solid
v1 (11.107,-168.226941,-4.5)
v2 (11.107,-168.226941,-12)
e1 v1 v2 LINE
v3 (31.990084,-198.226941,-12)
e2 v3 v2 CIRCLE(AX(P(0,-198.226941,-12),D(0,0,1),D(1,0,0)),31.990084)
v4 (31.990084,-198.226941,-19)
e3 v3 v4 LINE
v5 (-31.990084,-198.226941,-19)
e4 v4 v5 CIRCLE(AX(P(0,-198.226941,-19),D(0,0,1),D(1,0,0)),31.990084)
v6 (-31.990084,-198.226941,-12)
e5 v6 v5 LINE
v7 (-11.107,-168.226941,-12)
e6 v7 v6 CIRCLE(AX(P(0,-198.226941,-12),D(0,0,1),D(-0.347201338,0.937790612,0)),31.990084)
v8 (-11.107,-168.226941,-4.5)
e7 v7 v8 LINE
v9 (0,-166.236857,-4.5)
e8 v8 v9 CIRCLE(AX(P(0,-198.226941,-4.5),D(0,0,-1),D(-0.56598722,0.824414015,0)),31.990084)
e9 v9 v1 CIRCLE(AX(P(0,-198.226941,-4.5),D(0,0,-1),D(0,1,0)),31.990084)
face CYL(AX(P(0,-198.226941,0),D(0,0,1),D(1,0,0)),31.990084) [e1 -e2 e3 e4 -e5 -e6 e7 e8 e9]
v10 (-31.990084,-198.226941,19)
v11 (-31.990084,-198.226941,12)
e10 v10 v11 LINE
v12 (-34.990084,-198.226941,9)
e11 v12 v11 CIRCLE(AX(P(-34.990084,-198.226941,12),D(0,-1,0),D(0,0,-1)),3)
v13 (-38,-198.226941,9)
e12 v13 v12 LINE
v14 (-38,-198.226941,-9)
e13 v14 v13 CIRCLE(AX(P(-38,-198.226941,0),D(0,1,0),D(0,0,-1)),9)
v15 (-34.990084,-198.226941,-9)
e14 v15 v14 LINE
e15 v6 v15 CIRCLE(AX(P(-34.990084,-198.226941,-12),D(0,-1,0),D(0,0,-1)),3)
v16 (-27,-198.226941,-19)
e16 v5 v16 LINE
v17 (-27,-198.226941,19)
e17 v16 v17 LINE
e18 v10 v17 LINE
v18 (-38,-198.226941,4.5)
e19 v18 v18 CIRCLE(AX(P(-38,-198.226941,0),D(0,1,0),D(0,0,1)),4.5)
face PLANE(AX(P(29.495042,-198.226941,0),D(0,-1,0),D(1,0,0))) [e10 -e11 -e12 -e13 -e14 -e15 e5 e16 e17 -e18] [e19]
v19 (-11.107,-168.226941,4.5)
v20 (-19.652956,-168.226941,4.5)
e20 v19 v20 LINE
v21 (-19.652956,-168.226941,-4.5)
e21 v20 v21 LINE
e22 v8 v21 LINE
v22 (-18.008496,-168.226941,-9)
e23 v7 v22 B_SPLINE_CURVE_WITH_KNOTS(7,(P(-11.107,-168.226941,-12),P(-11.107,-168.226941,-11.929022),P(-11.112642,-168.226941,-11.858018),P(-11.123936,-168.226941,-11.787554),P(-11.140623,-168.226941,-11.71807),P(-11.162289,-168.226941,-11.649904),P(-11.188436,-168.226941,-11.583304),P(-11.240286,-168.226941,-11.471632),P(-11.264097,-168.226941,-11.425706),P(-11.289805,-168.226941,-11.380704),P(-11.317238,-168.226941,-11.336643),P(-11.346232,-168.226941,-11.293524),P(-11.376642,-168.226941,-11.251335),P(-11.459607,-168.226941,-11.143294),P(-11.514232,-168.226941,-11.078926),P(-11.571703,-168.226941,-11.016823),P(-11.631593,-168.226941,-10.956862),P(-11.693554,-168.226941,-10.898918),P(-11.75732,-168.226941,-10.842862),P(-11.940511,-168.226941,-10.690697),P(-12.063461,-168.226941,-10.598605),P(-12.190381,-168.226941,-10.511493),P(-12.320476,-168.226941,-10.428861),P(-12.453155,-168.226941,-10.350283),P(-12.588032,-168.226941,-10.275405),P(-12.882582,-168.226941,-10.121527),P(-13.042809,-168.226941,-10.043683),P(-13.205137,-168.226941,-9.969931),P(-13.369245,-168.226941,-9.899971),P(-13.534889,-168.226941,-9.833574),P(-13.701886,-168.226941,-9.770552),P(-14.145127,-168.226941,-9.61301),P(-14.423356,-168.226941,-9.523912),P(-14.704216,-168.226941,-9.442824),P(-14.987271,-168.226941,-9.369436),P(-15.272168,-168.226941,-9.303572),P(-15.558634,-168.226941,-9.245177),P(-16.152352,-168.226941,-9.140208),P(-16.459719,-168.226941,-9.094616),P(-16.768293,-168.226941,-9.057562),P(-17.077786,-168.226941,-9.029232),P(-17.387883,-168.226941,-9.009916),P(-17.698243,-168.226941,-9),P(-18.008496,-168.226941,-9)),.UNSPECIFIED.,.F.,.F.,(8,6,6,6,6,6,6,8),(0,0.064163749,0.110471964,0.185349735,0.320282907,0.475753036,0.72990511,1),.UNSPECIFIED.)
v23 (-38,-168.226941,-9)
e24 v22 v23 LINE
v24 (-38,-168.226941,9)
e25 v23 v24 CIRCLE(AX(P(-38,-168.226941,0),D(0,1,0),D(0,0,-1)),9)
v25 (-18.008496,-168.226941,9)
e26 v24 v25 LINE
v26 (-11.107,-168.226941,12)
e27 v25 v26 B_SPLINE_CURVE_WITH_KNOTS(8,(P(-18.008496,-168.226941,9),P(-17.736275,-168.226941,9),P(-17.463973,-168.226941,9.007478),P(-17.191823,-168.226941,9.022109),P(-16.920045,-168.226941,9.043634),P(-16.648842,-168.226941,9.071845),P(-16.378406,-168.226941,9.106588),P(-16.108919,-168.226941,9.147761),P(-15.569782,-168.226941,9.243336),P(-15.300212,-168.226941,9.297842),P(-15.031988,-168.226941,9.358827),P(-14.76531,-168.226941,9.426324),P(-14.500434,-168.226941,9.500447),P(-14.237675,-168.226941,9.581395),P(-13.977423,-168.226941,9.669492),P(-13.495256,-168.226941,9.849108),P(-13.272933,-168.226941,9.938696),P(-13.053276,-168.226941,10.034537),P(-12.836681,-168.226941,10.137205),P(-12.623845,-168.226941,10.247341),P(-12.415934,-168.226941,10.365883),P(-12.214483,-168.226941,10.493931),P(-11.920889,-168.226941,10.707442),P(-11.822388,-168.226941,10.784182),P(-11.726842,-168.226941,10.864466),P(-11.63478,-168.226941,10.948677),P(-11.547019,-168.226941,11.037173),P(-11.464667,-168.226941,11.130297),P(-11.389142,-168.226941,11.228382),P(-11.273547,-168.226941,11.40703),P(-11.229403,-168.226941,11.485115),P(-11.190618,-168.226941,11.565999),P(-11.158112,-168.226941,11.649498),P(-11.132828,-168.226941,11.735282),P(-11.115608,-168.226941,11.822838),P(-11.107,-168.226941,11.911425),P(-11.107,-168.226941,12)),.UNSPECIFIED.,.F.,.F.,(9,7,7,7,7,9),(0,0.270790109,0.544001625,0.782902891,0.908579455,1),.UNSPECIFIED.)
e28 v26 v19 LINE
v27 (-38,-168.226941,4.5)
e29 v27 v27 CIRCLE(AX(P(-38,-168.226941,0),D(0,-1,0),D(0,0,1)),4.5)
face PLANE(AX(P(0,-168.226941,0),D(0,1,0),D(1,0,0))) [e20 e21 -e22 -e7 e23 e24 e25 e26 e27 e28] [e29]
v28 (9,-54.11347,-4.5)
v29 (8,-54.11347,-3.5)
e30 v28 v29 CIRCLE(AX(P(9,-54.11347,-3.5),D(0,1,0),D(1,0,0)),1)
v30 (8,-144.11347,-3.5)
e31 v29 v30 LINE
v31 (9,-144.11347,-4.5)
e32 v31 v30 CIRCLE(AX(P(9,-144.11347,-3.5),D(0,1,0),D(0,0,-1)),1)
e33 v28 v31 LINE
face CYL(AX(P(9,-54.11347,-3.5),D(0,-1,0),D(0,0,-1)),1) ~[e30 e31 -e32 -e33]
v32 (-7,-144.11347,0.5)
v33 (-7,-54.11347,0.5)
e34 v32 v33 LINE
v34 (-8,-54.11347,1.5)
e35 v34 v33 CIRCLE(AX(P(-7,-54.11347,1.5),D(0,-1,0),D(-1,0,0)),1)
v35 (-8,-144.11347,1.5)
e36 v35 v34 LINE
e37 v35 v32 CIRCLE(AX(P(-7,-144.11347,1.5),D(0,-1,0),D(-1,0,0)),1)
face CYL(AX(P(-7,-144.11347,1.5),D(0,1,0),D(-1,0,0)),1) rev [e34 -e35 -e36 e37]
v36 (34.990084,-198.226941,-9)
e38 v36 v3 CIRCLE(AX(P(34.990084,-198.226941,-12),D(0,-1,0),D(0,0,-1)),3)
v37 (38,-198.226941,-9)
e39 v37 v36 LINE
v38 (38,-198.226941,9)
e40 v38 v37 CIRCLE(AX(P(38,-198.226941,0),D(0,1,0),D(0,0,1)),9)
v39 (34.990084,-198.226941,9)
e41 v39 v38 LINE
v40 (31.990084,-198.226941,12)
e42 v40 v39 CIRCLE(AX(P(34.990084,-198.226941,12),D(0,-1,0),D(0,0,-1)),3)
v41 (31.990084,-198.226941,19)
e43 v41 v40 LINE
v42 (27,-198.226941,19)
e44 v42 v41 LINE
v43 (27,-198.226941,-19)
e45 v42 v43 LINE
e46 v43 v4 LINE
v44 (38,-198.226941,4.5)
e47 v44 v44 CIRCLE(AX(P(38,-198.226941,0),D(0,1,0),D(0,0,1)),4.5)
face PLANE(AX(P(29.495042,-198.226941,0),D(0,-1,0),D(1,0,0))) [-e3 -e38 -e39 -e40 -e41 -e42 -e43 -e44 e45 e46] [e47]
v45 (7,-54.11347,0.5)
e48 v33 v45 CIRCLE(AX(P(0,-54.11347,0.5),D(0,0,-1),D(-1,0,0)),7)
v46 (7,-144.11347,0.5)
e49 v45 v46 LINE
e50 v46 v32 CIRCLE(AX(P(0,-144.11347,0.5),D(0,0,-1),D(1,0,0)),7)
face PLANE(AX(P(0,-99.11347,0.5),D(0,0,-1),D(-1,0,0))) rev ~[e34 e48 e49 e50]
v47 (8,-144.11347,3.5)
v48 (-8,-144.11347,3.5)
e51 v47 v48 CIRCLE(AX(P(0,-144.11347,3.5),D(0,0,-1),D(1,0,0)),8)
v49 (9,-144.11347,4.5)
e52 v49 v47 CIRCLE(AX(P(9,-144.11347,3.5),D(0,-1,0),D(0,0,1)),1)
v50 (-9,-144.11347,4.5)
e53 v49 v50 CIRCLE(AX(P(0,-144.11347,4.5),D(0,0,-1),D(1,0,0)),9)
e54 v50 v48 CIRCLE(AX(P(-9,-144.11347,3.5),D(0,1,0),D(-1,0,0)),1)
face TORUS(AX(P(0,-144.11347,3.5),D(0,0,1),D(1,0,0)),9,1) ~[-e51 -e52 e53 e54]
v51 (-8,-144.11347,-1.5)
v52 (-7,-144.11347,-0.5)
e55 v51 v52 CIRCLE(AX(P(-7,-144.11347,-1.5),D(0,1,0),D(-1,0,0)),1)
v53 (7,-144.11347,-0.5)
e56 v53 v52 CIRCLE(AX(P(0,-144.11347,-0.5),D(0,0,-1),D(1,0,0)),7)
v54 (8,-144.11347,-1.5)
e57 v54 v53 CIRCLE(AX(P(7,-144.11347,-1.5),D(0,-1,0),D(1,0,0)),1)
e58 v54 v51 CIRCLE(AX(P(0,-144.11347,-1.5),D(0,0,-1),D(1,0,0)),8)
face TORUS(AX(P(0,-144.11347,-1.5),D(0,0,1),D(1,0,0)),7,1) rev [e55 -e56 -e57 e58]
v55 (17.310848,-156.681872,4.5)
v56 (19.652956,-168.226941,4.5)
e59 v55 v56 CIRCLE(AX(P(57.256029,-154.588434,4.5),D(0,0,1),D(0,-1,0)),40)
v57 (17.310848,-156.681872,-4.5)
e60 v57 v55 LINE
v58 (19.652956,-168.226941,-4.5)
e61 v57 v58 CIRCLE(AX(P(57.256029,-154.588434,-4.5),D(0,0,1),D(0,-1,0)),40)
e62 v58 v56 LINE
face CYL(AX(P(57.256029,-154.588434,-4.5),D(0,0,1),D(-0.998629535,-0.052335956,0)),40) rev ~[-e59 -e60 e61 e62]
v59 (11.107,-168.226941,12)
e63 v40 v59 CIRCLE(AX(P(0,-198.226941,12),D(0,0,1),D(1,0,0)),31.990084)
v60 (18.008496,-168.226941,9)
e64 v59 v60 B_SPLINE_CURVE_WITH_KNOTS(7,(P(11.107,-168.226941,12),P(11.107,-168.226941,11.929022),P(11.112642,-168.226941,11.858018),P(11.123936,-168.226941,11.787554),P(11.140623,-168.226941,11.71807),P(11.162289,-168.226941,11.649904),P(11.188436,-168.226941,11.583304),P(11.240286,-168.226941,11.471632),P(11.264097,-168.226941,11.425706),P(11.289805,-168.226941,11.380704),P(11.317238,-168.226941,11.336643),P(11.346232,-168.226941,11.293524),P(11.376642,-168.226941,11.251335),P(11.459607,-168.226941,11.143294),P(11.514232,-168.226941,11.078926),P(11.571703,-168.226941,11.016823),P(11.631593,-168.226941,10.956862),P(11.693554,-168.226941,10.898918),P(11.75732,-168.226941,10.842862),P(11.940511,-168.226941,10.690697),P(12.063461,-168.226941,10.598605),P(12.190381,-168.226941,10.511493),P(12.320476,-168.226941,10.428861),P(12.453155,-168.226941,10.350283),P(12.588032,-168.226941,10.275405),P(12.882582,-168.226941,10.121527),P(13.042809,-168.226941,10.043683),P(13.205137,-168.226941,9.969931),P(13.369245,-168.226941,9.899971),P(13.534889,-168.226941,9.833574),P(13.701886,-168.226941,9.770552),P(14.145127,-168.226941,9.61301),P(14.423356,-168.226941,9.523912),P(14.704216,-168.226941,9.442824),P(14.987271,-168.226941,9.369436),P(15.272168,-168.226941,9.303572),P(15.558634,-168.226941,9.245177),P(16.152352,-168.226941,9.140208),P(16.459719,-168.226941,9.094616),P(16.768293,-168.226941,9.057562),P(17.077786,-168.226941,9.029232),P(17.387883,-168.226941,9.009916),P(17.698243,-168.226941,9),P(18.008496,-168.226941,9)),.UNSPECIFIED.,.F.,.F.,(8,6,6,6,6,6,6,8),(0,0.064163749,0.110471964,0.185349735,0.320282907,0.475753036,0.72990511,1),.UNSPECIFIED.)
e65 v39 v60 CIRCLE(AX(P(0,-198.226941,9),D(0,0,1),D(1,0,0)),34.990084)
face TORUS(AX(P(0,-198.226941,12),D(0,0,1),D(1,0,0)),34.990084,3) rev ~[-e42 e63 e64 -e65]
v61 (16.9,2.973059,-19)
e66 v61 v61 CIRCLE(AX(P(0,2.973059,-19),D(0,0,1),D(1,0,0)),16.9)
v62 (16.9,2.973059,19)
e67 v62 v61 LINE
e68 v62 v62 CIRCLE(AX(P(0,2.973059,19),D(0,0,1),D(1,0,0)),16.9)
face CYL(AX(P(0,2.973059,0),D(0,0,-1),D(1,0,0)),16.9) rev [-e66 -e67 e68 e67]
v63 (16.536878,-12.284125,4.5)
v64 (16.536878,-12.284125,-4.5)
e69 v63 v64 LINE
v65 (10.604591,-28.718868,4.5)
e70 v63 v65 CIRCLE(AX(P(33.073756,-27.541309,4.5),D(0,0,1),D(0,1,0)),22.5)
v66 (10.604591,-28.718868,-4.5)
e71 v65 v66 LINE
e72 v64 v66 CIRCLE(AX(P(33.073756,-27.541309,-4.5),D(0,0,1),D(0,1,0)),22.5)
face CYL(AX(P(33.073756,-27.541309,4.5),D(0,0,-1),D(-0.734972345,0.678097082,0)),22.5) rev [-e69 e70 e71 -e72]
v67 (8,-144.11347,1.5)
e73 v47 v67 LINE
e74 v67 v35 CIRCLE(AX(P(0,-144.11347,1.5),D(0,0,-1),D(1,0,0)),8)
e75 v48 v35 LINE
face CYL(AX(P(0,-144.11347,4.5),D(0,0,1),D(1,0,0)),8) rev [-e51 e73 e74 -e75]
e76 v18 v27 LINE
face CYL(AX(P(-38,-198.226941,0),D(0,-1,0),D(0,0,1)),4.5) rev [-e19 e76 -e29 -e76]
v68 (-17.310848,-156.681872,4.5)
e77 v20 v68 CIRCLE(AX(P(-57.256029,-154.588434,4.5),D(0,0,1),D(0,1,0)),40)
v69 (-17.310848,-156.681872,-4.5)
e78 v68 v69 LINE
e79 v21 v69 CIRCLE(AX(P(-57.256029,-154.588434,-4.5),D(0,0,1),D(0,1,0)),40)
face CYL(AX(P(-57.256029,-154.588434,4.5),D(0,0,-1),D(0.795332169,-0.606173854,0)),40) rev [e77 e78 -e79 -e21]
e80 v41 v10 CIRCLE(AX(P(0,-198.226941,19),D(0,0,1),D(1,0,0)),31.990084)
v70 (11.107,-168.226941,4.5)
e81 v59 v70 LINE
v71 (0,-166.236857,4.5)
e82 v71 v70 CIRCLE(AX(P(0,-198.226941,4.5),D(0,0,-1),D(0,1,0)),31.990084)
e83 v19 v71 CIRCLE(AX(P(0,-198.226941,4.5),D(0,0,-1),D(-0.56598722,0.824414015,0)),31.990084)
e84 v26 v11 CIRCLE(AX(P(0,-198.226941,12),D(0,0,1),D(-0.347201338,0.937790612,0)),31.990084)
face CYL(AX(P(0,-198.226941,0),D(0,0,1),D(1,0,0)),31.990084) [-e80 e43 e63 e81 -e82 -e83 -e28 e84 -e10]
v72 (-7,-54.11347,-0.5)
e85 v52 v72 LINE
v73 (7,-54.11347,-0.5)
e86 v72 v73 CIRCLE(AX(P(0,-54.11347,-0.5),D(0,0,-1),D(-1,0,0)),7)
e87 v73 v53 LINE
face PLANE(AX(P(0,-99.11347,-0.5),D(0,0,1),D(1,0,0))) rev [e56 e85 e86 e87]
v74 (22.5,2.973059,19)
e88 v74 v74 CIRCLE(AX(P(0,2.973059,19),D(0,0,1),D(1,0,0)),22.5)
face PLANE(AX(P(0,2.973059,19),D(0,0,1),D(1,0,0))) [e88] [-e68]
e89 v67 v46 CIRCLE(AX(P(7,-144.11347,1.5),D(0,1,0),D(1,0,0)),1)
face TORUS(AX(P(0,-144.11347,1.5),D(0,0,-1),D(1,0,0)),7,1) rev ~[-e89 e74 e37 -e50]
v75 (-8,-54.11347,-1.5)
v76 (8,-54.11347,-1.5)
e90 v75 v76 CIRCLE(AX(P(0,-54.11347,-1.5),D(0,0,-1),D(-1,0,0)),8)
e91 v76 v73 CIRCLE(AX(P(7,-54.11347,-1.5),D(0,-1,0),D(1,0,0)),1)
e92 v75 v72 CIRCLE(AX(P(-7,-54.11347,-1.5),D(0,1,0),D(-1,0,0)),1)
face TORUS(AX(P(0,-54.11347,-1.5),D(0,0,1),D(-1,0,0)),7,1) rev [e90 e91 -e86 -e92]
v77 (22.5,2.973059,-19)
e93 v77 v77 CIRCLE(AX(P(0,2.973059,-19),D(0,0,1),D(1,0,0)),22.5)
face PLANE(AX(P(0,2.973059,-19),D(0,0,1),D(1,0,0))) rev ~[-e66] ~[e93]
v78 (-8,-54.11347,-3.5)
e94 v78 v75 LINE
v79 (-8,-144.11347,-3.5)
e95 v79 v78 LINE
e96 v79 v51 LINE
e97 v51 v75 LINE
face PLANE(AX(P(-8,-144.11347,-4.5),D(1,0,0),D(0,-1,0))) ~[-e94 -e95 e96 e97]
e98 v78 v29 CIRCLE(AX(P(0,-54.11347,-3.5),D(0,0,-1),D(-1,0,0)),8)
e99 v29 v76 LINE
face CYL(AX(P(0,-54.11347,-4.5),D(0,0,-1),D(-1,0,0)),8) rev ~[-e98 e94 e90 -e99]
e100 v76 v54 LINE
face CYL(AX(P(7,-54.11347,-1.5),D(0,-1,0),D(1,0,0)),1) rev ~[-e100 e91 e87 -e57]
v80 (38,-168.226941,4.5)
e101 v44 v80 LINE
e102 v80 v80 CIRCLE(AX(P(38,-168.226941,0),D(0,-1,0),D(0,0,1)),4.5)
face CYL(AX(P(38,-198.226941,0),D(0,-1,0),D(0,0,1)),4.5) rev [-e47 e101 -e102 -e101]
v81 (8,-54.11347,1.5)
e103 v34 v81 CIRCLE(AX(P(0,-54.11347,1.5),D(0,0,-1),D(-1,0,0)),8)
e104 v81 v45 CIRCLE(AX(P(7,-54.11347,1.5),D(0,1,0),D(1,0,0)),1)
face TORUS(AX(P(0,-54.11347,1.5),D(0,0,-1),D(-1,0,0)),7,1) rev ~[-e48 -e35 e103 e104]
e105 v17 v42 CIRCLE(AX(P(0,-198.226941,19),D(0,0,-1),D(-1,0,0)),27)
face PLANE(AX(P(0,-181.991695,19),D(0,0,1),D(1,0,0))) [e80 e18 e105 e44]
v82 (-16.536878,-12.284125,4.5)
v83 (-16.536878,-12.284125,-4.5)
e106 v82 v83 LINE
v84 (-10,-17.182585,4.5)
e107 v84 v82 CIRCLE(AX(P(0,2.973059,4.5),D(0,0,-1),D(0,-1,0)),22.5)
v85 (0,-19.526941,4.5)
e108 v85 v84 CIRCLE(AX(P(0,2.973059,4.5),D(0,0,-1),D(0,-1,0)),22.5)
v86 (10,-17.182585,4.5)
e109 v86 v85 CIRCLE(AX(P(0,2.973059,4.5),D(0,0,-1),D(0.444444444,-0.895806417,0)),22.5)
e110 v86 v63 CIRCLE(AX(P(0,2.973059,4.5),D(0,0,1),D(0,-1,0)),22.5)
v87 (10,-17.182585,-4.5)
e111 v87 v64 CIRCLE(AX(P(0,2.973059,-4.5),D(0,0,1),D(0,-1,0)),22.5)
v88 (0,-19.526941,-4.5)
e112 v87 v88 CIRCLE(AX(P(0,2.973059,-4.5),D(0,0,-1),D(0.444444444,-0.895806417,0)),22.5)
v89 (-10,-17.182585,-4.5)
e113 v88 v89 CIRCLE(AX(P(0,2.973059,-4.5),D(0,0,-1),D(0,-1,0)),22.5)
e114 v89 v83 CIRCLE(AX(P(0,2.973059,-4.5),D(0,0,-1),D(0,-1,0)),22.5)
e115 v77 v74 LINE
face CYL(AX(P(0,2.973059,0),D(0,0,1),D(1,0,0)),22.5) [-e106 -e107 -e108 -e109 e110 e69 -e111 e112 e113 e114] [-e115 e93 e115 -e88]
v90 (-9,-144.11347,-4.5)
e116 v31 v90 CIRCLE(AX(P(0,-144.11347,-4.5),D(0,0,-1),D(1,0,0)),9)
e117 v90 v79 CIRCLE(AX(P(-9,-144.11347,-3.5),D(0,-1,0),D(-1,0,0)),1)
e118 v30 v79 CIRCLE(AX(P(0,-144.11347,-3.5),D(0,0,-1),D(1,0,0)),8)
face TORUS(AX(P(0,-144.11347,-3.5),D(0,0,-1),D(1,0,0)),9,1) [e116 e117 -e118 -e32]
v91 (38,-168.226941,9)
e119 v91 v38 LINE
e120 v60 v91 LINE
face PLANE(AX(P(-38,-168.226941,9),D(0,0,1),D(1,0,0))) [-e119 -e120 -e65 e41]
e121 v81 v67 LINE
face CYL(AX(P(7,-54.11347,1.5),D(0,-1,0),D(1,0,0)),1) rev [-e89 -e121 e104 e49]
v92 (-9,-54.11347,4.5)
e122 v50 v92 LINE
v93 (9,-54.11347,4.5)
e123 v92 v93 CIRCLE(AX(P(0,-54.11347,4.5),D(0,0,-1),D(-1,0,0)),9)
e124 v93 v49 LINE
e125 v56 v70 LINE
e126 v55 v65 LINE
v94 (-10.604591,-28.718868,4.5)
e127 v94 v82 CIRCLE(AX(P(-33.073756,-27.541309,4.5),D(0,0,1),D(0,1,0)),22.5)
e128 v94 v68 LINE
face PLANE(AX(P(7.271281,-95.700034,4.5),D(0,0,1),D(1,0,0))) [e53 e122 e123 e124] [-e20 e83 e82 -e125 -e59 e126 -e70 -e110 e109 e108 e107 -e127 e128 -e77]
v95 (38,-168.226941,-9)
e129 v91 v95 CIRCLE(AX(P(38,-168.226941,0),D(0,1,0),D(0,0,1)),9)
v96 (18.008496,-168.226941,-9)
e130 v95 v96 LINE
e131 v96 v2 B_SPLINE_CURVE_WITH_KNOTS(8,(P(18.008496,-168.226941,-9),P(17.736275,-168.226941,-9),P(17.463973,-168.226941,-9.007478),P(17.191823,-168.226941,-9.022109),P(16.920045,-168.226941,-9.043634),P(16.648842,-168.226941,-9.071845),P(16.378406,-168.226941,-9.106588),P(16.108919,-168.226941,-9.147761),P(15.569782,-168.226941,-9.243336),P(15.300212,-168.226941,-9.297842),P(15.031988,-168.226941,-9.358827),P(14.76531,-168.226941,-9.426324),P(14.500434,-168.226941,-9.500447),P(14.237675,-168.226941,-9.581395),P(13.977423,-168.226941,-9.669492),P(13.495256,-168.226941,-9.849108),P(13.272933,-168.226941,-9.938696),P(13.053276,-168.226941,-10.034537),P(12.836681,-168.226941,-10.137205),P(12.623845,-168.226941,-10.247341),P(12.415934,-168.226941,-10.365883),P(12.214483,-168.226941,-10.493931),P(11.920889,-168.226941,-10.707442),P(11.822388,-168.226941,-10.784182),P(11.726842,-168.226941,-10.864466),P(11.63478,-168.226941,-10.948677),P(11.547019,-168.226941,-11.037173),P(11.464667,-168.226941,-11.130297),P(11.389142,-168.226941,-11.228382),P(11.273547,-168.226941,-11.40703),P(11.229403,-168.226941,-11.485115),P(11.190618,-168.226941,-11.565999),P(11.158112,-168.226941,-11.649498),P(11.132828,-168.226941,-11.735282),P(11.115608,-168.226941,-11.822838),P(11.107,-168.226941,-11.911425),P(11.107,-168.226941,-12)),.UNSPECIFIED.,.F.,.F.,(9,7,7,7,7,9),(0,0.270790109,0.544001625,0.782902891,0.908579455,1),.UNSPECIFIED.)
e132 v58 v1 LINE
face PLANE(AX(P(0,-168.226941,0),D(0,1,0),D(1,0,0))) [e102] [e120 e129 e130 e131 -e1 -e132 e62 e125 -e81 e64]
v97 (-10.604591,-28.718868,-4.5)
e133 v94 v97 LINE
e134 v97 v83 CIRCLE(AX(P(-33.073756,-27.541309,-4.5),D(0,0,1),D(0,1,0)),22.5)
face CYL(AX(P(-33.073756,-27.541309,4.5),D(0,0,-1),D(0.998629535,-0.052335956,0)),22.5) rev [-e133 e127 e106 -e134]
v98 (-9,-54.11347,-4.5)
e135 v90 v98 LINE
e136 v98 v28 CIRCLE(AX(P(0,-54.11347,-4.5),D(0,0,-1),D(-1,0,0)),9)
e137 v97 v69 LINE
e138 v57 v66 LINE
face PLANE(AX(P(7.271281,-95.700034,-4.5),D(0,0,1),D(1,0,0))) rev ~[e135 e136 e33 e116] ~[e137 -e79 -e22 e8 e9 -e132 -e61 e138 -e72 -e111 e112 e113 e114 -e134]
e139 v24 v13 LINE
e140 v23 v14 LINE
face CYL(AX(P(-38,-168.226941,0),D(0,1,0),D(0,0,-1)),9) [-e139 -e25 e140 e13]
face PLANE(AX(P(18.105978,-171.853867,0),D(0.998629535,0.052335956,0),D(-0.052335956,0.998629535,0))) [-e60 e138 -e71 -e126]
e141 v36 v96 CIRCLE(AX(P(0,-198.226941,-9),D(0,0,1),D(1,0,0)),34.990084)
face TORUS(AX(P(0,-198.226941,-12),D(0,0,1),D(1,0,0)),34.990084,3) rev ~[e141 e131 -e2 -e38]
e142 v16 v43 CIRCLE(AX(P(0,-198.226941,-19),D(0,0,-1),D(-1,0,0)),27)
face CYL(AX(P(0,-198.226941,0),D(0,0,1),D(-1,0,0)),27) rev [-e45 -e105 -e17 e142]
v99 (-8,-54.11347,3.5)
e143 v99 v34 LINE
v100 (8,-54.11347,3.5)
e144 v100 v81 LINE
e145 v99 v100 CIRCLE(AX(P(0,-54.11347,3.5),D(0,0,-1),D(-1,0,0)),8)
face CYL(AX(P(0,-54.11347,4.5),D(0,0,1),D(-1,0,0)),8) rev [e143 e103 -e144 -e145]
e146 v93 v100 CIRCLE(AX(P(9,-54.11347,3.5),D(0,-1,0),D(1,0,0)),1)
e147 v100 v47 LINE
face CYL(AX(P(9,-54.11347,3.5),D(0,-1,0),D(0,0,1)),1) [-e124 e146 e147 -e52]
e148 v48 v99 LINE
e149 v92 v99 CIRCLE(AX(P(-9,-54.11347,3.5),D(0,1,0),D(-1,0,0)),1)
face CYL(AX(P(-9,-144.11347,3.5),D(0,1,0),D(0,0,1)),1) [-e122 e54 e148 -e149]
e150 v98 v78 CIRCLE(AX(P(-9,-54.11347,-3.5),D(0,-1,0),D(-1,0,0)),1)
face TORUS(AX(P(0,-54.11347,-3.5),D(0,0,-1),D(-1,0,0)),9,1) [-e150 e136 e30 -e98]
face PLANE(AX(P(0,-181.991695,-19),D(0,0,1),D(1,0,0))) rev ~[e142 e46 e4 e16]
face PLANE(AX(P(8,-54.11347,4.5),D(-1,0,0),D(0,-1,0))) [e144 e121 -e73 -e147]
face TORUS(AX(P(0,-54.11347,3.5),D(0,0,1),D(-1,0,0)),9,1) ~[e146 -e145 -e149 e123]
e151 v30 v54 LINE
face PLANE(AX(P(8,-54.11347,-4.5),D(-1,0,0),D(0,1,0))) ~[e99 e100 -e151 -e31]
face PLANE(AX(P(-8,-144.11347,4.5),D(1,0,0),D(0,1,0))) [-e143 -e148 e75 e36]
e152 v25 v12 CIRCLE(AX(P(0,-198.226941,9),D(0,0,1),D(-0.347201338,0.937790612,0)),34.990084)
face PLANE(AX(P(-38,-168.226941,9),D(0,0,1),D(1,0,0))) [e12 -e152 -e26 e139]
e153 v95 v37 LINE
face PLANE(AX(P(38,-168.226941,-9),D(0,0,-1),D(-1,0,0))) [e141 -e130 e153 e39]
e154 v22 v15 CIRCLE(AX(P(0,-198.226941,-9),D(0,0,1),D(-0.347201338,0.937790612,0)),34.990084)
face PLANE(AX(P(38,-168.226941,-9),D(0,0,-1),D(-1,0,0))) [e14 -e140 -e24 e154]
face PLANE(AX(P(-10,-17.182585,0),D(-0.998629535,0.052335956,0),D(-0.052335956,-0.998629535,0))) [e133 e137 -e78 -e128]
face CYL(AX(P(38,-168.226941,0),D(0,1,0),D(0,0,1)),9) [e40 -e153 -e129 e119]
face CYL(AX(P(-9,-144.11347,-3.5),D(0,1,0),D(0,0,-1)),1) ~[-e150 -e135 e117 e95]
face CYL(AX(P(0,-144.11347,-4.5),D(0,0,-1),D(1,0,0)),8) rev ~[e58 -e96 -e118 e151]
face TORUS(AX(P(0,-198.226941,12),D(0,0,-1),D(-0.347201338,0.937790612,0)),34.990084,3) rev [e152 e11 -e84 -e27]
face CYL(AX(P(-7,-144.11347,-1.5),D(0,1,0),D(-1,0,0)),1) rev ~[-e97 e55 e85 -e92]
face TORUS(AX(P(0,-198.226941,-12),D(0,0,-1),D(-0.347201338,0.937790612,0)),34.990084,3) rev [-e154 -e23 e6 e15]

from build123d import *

# Parameters (mm, degrees)
SKETCH1_R               = 22.5
SKETCH1_R_2             = 16.9
BOSS_EXTRUDE3_DEPTH     = 19
BOSS_EXTRUDE3_2_DEPTH   = 19
BOSS_EXTRUDE5_DEPTH     = 4.5
CUT_EXTRUDE1_DEPTH      = 4
FILLET1_R               = 1
FILLET2_R               = 40
FILLET3_R               = 40
FILLET4_R               = 22.5
BOSS_EXTRUDE7_REACH     = 199.241
CUT_EXTRUDE3_DEPTH      = 206.637836892
CUT_EXTRUDE3_DEPTH_BACK = 206.637836892
CUT_EXTRUDE4_DEPTH      = 201.224099449
CUT_EXTRUDE4_DEPTH_BACK = 30
SKETCH7_R               = 4.5
FILLET5_R               = 3
FILLET6_R               = 3


with BuildPart() as part:
    # Sketch1 → Boss-Extrude3 (new, symmetric)
    with BuildSketch(Plane.XY):
        with Locations((0, 2.973059445)):
            Circle(SKETCH1_R)
        with Locations((0, 2.973059445)):
            Circle(SKETCH1_R_2, mode=Mode.SUBTRACT)
    extrude(amount=BOSS_EXTRUDE3_DEPTH, both=True)



with BuildPart() as body_2:
    # Sketch1 → Boss-Extrude3 2 (new, symmetric)
    with BuildSketch(Plane.XY):
        with BuildLine():
            Line((-31.990083534, -198.226940555), (-27, -198.226940555))
            ThreePointArc((-27, -198.226940555), (0, -171.226940555), (27, -198.226940555))
            Line((27, -198.226940555), (31.990083534, -198.226940555))
            ThreePointArc((31.990083534, -198.226940555), (0, -166.236857021), (-31.990083534, -198.226940555))
        make_face()
    extrude(amount=BOSS_EXTRUDE3_2_DEPTH, both=True)


with BuildPart() as part_1:
    add(part.part)

    add(body_2.part)  # Boss-Extrude5 merges body 2
    # Sketch1<8> → Boss-Extrude5 (add, symmetric)
    with BuildSketch(Plane.XY):
        with BuildLine():
            ThreePointArc((10, -17.182584926), (5.135562367, -18.933012753), (0, -19.526940555))
            Line((0, -19.526940555), (0, -166.236857021))
            ThreePointArc((0, -166.236857021), (9.478624111, -167.673362541), (18.105978431, -171.853867364))
            Line((18.105978431, -171.853867364), (10, -17.182584926))
        make_face()
        with BuildLine():
            Line((0, -166.236857021), (0, -19.526940555))
            ThreePointArc((0, -19.526940555), (-5.135562367, -18.933012753), (-10, -17.182584926))
            Line((-10, -17.182584926), (-18.105978431, -171.853867364))
            ThreePointArc((-18.105978431, -171.853867364), (-9.478624111, -167.673362541), (0, -166.236857021))
        make_face()
    extrude(amount=BOSS_EXTRUDE5_DEPTH, both=True)

    # Sketch3 → Cut-Extrude1 (cut)
    with BuildSketch(Plane.XY.offset(4.5)):
        with BuildLine():
            Line((8, -54.113470277), (8, -144.113470277))
            ThreePointArc((8, -144.113470277), (0, -152.113470277), (-8, -144.113470277))
            Line((-8, -144.113470277), (-8, -54.113470277))
            ThreePointArc((-8, -54.113470277), (0, -46.113470277), (8, -54.113470277))
        make_face()
    cut_extrude1 = extrude(amount=-CUT_EXTRUDE1_DEPTH, mode=Mode.SUBTRACT)

    # Mirror1: Cut-Extrude1 across plane
    add(cut_extrude1.mirror(Plane.XY), mode=Mode.SUBTRACT)

    # Fillet1
    fillet1_edges = [part_1.edges().sort_by_distance(p)[0] for p in [
        (0, -46.113470277, 0.5),
        (8, -99.113470277, 0.5),
        (0, -152.113470277, 0.5),
        (-8, -99.113470277, 0.5),
        (0, -46.113470277, 4.5),
        (-8, -99.113470277, 4.5),
        (0, -152.113470277, 4.5),
        (8, -99.113470277, 4.5),
        (0, -46.113470277, -4.5),
        (-8, -99.113470277, -4.5),
        (0, -152.113470277, -4.5),
        (8, -99.113470277, -4.5),
        (0, -46.113470277, -0.5),
        (-8, -99.113470277, -0.5),
        (0, -152.113470277, -0.5),
        (8, -99.113470277, -0.5),
    ]]
    fillet(fillet1_edges, radius=FILLET1_R)

    # Fillet2
    fillet2_edges = [part_1.edges().sort_by_distance(p)[0] for p in [
        (18.105978431, -171.853867364, 0),
    ]]
    fillet(fillet2_edges, radius=FILLET2_R)

    # Fillet3
    fillet3_edges = [part_1.edges().sort_by_distance(p)[0] for p in [
        (-18.105978431, -171.853867364, 0),
    ]]
    fillet(fillet3_edges, radius=FILLET3_R)

    # Fillet4
    fillet4_edges = [part_1.edges().sort_by_distance(p)[0] for p in [
        (10, -17.182584926, 0),
        (-10, -17.182584926, 0),
    ]]
    fillet(fillet4_edges, radius=FILLET4_R)

    # Boss-Extrude7: up to this face of the body (flat: up to its plane)
    boss_extrude7_end = Plane(part_1.part.faces().sort_by_distance((29.495041767, -198.226940555, 0))[0])
    # Sketch4 → Boss-Extrude7 (add, up to the picked face)
    with BuildSketch(Plane(origin=(0, -168.226940555, 0), x_dir=(-1, 0, 0), z_dir=(0, -1, 0)), mode=Mode.PRIVATE) as boss_extrude7_sk1:
        with BuildLine():
            Line((38, -9), (-38, -9))
            ThreePointArc((-38, -9), (-47, 0), (-38, 9))
            Line((-38, 9), (38, 9))
            ThreePointArc((38, 9), (47, 0), (38, -9))
        make_face()
    boss_extrude7_tool1 = split(extrude(boss_extrude7_sk1.sketch, amount=BOSS_EXTRUDE7_REACH, mode=Mode.PRIVATE), bisect_by=boss_extrude7_end, keep=Keep.BOTH, mode=Mode.PRIVATE)
    add(boss_extrude7_tool1.solids().sort_by(Axis((0, -168.226941, 0), (0, -1, 0)))[0])

    # Sketch6 → Cut-Extrude3 (cut, two sides: drawn at the far end of the back side and taken through both)
    with BuildSketch(Plane.XY.offset(9).offset(-CUT_EXTRUDE3_DEPTH_BACK)):
        with BuildLine():
            Line((-27, -198.226940555), (27, -198.226940555))
            ThreePointArc((27, -198.226940555), (0, -171.226940555), (-27, -198.226940555))
        make_face()
    extrude(amount=CUT_EXTRUDE3_DEPTH + CUT_EXTRUDE3_DEPTH_BACK, mode=Mode.SUBTRACT)

    # Sketch7 → Cut-Extrude4 (cut, two sides: drawn at the far end of the back side and taken through both)
    with BuildSketch(Plane(origin=(0, -168.226940555, 0), x_dir=(1, 0, 0), z_dir=(0, 1, 0)).offset(-CUT_EXTRUDE4_DEPTH_BACK)):
        with Locations(Location((-38, 0, 0), (0, 0, 270))):
            Circle(SKETCH7_R)
        with Locations(Location((38, 0, 0), (0, 0, 270))):
            Circle(SKETCH7_R)
    extrude(amount=CUT_EXTRUDE4_DEPTH + CUT_EXTRUDE4_DEPTH_BACK, mode=Mode.SUBTRACT)

    # Fillet5
    fillet5_edges = [part_1.edges().sort_by_distance(p)[0] for p in [
        (-26.255278477, -179.950567923, 9),
        (26.255278477, -179.950567923, 9),
    ]]
    fillet(fillet5_edges, radius=FILLET5_R)

    # Fillet6
    fillet6_edges = [part_1.edges().sort_by_distance(p)[0] for p in [
        (26.255278477, -179.950567923, -9),
        (-26.255278477, -179.950567923, -9),
    ]]
    fillet(fillet6_edges, radius=FILLET6_R)


solid = part_1.part
